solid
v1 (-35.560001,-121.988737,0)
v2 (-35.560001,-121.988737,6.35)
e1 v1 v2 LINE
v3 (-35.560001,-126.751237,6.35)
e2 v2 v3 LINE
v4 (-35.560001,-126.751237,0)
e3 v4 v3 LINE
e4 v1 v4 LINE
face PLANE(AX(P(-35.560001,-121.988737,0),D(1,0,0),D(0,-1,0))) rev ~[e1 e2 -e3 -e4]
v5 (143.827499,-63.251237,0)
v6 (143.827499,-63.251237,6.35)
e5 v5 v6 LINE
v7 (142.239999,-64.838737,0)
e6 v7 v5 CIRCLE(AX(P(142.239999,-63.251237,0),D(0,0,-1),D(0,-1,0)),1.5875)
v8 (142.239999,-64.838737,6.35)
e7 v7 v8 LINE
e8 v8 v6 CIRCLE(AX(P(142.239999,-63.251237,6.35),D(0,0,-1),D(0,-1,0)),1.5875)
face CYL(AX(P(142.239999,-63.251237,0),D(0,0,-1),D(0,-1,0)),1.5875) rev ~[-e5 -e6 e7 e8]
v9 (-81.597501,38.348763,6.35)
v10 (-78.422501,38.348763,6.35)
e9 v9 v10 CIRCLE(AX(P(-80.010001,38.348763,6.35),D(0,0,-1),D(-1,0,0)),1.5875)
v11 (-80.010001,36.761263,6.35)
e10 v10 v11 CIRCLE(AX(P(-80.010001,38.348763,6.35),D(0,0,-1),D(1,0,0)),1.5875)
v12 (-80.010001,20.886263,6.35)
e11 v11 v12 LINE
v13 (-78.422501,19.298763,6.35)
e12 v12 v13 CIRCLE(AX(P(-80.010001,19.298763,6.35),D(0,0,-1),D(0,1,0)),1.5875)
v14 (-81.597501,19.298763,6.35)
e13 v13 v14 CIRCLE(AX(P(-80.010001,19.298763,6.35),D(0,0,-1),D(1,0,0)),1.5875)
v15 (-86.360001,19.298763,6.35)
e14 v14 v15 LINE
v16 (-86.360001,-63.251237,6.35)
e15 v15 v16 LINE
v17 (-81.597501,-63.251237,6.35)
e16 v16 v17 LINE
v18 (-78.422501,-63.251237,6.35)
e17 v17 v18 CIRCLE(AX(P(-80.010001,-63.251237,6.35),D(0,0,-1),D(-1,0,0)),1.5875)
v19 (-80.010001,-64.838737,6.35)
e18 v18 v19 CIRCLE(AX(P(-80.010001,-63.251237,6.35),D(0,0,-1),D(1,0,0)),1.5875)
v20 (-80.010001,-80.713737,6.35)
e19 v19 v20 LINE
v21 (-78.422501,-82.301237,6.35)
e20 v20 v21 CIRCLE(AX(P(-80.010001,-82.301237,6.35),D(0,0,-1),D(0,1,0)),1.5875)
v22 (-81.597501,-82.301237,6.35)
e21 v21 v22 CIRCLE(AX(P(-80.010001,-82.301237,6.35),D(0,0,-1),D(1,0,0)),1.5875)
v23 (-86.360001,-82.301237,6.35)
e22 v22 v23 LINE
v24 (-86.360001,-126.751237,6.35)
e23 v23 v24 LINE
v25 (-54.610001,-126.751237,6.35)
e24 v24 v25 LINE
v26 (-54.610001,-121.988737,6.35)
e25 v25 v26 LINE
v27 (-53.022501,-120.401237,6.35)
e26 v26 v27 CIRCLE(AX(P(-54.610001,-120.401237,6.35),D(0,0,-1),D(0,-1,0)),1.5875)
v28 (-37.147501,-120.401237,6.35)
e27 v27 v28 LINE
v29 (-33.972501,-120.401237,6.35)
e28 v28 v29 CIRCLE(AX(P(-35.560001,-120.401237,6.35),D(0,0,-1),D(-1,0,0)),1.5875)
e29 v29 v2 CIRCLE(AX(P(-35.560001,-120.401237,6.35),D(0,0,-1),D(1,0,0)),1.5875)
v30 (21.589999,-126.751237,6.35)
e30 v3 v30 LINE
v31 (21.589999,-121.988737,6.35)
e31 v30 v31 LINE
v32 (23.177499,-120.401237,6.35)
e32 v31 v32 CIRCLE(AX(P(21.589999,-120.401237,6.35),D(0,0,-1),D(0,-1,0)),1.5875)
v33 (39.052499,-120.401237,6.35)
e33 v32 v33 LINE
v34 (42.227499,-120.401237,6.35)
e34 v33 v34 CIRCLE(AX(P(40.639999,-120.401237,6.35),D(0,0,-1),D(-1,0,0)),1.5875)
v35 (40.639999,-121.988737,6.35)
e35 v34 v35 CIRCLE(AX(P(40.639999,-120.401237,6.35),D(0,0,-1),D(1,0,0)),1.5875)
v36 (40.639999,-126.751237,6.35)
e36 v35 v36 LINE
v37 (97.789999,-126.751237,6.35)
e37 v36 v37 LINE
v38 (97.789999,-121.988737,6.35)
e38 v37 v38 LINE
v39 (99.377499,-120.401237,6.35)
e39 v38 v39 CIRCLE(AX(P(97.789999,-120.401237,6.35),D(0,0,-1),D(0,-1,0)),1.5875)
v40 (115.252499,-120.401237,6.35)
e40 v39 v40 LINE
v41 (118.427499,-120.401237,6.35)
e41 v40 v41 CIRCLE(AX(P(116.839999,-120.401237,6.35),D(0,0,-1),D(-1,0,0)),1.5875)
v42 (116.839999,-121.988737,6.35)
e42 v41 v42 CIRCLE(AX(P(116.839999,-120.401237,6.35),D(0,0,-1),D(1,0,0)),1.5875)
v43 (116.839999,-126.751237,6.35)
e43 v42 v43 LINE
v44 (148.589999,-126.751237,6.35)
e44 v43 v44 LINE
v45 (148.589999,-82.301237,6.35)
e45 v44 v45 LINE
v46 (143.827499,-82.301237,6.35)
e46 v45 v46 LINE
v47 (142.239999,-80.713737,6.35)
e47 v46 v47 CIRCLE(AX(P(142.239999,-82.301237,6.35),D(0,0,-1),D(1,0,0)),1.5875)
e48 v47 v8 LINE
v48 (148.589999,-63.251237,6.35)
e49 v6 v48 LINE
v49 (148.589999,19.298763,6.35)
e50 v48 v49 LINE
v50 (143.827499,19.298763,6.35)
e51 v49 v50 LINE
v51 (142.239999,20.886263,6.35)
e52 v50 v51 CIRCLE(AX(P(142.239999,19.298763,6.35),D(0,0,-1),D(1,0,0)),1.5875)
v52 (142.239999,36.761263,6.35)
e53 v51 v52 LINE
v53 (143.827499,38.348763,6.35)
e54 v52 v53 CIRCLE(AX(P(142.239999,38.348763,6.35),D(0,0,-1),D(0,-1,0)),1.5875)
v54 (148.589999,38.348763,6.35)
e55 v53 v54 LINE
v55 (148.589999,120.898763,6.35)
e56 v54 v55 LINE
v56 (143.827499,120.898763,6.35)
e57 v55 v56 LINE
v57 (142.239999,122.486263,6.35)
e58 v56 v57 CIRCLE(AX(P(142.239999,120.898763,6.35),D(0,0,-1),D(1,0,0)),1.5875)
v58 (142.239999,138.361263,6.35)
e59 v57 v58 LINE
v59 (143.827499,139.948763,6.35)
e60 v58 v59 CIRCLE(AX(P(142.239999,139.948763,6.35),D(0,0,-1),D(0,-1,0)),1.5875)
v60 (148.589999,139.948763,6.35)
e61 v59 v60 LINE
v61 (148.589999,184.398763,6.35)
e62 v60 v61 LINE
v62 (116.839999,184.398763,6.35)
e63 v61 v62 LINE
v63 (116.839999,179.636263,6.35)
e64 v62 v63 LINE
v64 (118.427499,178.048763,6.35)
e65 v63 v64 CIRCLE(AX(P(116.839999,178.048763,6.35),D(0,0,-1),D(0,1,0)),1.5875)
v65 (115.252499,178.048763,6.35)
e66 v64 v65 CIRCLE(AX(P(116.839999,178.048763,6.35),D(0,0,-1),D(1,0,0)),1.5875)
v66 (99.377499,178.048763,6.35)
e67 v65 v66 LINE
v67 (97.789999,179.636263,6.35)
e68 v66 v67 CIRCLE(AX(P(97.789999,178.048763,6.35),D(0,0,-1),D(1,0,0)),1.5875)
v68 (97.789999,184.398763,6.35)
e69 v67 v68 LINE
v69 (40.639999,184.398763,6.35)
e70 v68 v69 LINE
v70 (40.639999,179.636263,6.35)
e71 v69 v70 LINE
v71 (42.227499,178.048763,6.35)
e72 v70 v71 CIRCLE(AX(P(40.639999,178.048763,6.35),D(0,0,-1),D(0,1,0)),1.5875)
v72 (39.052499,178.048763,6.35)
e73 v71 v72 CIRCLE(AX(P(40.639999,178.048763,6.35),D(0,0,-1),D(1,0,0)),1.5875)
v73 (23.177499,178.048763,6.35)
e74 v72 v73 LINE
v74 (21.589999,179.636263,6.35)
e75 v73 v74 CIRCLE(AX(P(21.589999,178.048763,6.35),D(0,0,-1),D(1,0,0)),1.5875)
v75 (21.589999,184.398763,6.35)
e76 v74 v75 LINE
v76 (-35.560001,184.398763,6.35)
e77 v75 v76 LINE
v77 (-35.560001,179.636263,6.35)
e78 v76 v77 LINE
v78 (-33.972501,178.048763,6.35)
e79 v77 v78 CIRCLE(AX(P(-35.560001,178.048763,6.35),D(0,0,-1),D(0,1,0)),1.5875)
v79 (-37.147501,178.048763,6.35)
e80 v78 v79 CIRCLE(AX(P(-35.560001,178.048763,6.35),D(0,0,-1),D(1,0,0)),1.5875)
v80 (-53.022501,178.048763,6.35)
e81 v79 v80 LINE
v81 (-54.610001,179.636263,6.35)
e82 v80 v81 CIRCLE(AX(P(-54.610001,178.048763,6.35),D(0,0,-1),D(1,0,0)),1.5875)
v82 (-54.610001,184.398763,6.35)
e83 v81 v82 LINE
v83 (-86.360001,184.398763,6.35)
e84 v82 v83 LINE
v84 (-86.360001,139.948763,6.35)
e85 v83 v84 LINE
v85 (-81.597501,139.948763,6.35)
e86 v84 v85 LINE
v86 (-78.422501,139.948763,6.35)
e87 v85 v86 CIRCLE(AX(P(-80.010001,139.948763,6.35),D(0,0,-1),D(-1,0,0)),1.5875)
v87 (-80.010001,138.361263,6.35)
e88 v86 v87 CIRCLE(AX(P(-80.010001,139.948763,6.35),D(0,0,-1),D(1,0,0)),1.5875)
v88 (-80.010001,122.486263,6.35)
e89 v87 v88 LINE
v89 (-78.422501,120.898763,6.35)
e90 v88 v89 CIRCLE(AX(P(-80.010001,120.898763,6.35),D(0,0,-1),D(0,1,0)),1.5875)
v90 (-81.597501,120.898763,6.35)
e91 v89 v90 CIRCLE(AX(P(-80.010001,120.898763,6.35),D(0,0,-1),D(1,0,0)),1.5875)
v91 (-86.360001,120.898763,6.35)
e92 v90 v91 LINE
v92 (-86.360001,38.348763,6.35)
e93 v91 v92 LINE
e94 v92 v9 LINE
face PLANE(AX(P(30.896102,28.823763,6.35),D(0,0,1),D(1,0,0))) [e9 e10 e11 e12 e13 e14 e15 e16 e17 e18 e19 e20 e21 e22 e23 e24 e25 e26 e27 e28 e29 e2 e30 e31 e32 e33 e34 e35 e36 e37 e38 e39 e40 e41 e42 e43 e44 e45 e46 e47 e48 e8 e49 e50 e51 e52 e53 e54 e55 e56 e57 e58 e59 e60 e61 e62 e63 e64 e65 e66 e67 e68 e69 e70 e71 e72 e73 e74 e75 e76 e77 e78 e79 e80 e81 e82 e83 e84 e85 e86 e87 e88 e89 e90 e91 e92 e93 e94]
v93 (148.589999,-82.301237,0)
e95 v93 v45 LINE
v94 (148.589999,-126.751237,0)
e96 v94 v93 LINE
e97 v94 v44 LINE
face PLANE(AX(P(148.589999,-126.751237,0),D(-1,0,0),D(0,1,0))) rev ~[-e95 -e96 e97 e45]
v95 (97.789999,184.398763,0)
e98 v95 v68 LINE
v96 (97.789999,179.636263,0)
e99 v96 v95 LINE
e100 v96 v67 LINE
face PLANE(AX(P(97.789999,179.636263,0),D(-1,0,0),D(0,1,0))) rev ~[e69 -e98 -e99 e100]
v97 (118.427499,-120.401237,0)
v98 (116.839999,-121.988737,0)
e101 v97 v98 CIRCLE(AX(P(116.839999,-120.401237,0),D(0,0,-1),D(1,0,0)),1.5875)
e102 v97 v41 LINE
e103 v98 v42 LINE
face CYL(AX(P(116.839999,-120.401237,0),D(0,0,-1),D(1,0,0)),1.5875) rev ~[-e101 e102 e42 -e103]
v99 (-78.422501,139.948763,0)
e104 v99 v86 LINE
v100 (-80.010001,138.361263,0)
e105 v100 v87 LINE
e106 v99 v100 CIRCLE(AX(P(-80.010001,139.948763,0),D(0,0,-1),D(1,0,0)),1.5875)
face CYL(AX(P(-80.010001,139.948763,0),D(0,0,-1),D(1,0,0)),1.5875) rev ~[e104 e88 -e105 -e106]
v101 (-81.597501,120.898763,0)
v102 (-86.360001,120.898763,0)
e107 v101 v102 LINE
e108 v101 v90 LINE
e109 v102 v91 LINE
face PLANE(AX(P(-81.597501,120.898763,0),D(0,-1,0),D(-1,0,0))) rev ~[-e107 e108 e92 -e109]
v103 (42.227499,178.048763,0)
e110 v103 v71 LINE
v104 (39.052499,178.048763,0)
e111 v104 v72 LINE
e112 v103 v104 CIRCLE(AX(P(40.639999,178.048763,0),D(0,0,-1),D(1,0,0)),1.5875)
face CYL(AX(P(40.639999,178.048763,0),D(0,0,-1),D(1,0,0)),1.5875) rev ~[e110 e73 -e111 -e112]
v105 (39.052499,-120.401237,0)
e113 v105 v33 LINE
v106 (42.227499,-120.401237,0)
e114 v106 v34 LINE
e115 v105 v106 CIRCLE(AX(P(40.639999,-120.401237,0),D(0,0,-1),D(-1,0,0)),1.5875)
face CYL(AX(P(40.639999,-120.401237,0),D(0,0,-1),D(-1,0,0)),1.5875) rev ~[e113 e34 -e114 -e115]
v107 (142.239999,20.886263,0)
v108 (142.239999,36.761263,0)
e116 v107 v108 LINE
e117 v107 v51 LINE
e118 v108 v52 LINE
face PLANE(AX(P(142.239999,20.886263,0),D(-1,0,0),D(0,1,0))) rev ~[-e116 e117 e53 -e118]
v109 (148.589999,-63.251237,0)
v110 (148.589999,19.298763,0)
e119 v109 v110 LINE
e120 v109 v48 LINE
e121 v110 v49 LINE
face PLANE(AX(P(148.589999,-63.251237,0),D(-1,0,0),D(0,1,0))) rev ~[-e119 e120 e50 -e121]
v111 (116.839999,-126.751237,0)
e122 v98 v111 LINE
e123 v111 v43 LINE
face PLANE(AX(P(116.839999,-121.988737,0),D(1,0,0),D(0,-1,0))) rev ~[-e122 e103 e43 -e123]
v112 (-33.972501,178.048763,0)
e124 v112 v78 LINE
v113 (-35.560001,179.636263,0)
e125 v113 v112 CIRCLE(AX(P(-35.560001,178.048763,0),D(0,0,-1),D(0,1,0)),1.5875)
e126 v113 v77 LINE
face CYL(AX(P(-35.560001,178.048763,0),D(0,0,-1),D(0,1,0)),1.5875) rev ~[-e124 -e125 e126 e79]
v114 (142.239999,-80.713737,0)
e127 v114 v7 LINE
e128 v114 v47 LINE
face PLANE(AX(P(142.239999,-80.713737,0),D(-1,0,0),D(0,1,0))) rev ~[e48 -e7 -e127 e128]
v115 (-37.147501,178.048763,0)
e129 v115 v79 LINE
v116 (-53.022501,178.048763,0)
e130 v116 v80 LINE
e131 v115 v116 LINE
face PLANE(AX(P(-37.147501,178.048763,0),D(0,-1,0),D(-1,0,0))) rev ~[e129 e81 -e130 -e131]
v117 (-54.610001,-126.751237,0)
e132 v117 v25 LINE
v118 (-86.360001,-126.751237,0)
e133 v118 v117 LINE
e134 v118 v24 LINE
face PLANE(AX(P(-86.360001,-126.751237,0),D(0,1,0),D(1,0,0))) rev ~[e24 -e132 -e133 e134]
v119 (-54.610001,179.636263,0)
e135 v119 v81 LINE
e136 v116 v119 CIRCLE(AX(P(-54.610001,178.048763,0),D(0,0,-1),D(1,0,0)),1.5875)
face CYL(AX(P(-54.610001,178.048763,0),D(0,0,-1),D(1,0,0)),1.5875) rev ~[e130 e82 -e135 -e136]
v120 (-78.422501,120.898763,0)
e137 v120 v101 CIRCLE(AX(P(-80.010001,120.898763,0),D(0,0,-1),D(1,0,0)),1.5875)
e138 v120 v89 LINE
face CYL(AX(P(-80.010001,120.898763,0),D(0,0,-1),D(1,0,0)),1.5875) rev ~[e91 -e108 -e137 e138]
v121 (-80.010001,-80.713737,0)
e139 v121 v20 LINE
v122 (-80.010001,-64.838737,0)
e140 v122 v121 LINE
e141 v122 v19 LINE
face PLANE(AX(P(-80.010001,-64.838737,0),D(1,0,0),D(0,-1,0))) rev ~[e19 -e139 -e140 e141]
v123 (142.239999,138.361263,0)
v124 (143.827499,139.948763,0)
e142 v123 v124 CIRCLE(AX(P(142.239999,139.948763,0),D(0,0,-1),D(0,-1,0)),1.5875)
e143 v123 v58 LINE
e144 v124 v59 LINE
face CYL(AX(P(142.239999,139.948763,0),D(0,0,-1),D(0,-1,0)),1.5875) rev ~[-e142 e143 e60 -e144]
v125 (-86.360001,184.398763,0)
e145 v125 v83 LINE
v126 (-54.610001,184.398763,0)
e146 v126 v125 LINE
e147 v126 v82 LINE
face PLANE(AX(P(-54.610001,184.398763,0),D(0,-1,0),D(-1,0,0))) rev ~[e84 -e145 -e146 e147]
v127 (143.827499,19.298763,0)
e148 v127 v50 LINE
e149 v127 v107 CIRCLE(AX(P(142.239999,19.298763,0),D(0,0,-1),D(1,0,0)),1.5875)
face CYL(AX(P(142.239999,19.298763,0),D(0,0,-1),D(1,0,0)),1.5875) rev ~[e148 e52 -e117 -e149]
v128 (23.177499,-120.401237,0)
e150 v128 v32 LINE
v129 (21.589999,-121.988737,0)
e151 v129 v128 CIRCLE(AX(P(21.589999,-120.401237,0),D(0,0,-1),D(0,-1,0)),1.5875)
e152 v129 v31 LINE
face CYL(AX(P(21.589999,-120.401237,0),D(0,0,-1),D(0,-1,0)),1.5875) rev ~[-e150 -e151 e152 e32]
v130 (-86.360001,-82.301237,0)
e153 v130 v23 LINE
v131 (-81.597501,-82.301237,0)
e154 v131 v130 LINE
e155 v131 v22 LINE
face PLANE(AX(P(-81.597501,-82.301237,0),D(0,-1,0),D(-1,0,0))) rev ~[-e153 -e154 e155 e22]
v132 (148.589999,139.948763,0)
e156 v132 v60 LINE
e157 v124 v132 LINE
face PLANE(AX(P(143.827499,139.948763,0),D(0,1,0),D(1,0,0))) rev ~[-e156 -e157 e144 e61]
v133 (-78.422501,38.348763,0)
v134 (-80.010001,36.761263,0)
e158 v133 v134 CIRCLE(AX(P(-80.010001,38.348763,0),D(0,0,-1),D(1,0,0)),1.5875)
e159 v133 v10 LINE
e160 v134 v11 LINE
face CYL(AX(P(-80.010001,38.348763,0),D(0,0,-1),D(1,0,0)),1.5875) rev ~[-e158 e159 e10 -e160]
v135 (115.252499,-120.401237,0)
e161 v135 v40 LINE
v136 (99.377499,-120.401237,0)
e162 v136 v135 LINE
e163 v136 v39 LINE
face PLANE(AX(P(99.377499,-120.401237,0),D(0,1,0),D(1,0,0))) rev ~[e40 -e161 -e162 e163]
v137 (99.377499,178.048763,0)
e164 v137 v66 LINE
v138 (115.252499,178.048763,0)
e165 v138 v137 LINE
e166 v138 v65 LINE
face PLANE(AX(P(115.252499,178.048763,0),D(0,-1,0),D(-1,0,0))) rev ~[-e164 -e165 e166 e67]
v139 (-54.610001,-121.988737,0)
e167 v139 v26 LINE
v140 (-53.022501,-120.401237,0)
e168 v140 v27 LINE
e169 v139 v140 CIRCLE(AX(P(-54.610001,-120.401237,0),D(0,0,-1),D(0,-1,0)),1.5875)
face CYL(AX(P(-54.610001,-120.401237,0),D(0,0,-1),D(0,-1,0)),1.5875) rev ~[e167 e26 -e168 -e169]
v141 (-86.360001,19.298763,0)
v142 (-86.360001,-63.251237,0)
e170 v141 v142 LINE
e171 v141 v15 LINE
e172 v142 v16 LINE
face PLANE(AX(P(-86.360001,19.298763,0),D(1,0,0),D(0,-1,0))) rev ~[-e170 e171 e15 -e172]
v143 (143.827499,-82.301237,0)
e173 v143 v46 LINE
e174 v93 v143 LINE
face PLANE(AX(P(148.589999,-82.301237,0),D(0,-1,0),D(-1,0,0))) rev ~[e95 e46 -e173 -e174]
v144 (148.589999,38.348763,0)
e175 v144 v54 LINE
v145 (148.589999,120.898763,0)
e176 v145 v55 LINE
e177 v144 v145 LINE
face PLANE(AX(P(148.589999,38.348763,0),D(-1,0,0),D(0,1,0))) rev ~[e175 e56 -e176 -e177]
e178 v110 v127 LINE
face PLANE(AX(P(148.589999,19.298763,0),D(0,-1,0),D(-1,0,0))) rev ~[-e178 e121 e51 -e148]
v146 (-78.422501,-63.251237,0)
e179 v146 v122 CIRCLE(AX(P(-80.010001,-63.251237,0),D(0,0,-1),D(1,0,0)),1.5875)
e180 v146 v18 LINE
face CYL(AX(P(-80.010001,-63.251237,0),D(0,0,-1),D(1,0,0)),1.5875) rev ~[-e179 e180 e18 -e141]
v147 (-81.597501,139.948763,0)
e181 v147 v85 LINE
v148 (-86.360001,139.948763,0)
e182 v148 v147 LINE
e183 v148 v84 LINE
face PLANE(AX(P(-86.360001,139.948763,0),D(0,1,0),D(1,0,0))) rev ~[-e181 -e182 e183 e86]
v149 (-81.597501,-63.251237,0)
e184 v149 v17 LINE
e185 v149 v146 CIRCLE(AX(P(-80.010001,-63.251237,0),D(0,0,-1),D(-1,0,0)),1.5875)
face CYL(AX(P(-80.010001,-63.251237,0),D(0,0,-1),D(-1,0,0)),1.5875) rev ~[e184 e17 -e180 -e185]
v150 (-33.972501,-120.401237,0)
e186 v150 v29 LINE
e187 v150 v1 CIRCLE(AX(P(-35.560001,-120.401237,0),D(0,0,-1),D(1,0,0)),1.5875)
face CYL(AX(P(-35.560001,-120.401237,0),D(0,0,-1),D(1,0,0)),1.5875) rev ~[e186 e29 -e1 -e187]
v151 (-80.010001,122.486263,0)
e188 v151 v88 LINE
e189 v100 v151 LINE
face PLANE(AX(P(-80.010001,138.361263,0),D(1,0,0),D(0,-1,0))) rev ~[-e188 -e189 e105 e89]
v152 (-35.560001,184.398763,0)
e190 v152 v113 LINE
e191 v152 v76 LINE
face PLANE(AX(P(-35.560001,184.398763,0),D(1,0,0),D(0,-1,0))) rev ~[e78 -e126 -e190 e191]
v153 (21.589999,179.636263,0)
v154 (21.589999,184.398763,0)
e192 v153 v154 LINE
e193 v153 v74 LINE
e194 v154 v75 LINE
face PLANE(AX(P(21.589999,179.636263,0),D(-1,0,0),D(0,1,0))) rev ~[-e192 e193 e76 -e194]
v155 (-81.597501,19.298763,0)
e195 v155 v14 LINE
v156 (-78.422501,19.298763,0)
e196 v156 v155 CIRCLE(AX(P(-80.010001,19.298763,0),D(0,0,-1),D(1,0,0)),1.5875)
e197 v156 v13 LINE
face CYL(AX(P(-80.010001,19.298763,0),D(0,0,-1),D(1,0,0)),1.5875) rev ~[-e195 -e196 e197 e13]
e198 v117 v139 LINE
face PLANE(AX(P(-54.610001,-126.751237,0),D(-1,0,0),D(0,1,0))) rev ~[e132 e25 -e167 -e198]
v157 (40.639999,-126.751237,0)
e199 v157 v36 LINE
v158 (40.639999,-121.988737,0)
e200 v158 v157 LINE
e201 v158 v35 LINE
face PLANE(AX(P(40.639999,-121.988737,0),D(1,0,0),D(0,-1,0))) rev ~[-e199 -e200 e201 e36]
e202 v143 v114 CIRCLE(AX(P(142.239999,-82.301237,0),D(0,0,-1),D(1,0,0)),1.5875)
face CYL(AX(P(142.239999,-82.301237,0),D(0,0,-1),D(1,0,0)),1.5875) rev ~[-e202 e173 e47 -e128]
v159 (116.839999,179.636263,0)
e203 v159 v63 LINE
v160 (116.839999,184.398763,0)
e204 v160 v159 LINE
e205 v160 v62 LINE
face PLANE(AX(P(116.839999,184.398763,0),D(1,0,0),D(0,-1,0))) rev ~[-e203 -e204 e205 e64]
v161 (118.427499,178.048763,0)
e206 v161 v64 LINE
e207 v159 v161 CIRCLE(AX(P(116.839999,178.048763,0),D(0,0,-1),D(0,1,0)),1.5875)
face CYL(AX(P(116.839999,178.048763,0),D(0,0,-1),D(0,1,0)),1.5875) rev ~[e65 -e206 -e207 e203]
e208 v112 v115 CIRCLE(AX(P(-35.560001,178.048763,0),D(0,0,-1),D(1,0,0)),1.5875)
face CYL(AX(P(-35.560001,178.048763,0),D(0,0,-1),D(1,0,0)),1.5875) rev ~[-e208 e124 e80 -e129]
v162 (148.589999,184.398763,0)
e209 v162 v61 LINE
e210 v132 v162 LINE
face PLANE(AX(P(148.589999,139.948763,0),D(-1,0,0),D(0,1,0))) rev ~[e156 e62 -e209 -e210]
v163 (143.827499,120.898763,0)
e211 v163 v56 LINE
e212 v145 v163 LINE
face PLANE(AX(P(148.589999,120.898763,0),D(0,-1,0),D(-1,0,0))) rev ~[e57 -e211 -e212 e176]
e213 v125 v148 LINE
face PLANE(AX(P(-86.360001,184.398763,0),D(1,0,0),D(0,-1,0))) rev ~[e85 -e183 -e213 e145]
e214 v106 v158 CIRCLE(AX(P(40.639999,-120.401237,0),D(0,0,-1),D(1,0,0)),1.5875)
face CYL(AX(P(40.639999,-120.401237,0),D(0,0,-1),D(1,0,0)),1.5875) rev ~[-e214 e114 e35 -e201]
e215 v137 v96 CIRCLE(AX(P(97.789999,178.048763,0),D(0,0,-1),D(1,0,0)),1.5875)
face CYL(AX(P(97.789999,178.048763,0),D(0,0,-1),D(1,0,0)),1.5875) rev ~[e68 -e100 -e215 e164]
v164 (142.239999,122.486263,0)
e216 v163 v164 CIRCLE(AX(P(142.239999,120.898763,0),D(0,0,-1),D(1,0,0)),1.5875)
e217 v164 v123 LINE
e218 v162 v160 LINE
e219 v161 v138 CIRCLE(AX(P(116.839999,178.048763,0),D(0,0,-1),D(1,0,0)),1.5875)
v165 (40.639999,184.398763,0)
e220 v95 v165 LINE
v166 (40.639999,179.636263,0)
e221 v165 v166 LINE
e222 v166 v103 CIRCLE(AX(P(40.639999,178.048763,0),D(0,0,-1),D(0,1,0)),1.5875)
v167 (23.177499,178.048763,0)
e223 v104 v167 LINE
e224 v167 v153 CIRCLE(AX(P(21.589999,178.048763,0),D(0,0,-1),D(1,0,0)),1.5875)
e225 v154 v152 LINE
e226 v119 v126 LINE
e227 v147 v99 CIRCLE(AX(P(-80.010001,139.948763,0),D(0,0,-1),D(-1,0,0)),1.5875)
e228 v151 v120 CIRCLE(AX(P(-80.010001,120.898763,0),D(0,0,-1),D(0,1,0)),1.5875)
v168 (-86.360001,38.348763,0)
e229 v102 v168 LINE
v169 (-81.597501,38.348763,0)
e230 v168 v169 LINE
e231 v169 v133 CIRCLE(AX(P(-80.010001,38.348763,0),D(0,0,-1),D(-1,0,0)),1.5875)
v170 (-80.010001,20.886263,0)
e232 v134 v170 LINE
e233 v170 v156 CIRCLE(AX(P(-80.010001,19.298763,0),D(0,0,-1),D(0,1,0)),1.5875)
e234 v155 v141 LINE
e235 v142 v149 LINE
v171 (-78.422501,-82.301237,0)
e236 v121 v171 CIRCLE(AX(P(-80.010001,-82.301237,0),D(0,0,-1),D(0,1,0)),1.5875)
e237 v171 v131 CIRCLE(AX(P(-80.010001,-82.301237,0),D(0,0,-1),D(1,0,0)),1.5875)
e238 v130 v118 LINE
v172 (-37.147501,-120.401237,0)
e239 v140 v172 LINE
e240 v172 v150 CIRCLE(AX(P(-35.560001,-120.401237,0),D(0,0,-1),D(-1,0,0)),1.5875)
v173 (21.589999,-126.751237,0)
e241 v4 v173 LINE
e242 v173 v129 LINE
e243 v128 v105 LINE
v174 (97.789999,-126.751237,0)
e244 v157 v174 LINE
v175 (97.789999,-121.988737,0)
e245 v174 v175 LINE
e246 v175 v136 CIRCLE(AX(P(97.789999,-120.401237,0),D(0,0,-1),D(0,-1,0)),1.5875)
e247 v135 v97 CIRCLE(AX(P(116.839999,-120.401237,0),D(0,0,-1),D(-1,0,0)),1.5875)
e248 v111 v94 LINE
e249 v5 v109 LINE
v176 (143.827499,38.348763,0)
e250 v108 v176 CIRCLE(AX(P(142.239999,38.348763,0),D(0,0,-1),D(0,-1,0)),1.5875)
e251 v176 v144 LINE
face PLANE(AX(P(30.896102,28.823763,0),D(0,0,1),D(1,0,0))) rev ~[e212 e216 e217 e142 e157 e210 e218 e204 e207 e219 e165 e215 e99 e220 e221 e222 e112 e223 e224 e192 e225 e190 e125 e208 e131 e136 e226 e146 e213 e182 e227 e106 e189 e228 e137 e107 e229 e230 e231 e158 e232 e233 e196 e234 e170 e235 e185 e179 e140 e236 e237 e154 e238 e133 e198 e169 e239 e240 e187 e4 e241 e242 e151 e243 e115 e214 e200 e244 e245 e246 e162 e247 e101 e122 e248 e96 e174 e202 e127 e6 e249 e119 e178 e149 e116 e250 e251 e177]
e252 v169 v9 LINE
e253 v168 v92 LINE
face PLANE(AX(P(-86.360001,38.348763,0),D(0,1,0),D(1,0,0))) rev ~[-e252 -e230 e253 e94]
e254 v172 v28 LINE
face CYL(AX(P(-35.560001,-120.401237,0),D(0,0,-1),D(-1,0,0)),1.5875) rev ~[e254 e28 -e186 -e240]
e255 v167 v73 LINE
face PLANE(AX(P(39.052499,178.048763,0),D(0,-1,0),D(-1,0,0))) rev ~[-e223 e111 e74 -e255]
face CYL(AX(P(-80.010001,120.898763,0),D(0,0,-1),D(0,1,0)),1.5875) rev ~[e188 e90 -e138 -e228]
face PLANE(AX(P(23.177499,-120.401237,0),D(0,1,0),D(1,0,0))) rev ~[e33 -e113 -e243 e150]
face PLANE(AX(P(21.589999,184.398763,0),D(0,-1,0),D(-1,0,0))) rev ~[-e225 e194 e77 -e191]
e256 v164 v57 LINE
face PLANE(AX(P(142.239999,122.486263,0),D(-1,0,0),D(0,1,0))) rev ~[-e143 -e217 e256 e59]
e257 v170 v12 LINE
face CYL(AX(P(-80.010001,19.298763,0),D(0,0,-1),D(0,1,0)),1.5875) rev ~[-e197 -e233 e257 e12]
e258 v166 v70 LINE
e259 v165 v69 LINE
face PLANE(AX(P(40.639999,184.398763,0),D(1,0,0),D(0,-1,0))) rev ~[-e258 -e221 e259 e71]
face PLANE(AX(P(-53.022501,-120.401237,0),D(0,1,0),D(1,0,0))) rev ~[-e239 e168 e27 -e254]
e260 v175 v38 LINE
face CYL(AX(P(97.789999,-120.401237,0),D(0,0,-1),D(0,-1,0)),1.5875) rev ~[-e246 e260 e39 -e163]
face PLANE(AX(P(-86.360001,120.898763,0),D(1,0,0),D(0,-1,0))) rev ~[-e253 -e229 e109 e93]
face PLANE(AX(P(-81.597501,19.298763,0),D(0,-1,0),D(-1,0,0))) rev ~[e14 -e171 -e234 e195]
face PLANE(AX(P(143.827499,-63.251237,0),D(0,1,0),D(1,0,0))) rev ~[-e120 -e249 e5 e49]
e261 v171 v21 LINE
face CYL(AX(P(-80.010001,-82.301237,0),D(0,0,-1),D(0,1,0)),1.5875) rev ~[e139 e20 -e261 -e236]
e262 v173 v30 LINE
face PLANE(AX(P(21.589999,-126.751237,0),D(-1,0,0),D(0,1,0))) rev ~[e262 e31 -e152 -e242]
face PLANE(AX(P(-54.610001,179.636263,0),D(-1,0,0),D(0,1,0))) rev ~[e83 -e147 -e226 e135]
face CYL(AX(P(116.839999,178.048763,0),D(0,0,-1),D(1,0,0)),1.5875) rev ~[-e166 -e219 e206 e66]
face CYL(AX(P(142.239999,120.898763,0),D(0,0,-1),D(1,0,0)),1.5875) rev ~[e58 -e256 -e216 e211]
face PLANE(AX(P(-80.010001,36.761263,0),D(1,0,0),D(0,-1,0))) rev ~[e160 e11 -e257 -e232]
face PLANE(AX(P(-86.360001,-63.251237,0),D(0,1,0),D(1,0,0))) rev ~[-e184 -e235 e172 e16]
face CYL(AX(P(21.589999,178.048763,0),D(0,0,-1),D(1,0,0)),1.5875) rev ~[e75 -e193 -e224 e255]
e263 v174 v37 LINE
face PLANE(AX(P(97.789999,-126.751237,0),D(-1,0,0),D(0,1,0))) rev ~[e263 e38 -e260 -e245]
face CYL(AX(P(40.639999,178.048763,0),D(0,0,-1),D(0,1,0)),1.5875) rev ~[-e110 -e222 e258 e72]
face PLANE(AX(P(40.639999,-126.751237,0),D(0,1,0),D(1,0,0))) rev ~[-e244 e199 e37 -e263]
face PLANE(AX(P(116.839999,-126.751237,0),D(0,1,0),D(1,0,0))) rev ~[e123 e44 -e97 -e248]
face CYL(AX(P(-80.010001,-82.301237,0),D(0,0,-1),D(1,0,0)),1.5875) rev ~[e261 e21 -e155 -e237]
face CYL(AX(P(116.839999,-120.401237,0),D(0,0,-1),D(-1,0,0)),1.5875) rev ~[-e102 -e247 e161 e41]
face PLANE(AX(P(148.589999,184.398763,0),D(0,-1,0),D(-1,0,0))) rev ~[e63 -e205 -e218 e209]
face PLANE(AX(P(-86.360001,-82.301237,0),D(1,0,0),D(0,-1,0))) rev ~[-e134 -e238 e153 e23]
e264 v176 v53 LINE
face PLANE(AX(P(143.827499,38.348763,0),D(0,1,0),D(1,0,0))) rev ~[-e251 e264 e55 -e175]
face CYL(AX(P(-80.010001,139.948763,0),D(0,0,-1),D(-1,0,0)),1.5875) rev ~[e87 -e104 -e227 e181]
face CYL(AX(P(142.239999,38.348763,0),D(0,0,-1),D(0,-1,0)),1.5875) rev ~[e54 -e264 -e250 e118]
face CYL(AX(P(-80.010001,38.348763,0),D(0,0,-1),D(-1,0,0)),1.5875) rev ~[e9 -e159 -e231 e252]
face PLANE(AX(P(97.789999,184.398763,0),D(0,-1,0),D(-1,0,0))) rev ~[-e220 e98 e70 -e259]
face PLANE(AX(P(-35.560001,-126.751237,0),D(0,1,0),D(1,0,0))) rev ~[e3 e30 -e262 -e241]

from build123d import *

# Parameters (mm, degrees)
F1_DEPTH = 6.35


with BuildPart() as f1:
    # F0 (on Top) → F1 (new body)
    with BuildSketch(Plane.XY):
        with BuildLine():
            Line((-54.6100006601, 184.3987628429), (-86.3600006601, 184.3987628429))
            Line((-86.3600006601, 184.3987628429), (-86.3600006601, 139.9487628429))
            Line((-86.3600006601, 139.9487628429), (-81.5975006601, 139.9487628429))
            ThreePointArc((-81.5975006601, 139.9487628429), (-80.0100006601, 141.5362628429), (-78.4225006601, 139.9487628429))
            ThreePointArc((-78.4225006601, 139.9487628429), (-78.887468645, 138.8262308277), (-80.0100006601, 138.3612628429))
            Line((-80.0100006601, 138.3612628429), (-80.0100006601, 122.4862628429))
            ThreePointArc((-80.0100006601, 122.4862628429), (-78.887468645, 122.021294858), (-78.4225006601, 120.8987628429))
            ThreePointArc((-78.4225006601, 120.8987628429), (-80.0100006601, 119.3112628429), (-81.5975006601, 120.8987628429))
            Line((-81.5975006601, 120.8987628429), (-86.3600006601, 120.8987628429))
            Line((-86.3600006601, 120.8987628429), (-86.3600006601, 38.3487628429))
            Line((-86.3600006601, 38.3487628429), (-81.5975006601, 38.3487628429))
            ThreePointArc((-81.5975006601, 38.3487628429), (-80.0100006601, 39.9362628429), (-78.4225006601, 38.3487628429))
            ThreePointArc((-78.4225006601, 38.3487628429), (-78.887468645, 37.2262308277), (-80.0100006601, 36.7612628429))
            Line((-80.0100006601, 36.7612628429), (-80.0100006601, 20.8862628429))
            ThreePointArc((-80.0100006601, 20.8862628429), (-78.887468645, 20.421294858), (-78.4225006601, 19.2987628429))
            ThreePointArc((-78.4225006601, 19.2987628429), (-80.0100006601, 17.7112628429), (-81.5975006601, 19.2987628429))
            Line((-81.5975006601, 19.2987628429), (-86.3600006601, 19.2987628429))
            Line((-86.3600006601, 19.2987628429), (-86.3600006601, -63.2512371571))
            Line((-86.3600006601, -63.2512371571), (-81.5975006601, -63.2512371571))
            ThreePointArc((-81.5975006601, -63.2512371571), (-80.0100006601, -61.6637371571), (-78.4225006601, -63.2512371571))
            ThreePointArc((-78.4225006601, -63.2512371571), (-78.887468645, -64.3737691723), (-80.0100006601, -64.8387371571))
            Line((-80.0100006601, -64.8387371571), (-80.0100006601, -80.7137371571))
            ThreePointArc((-80.0100006601, -80.7137371571), (-78.887468645, -81.178705142), (-78.4225006601, -82.3012371571))
            ThreePointArc((-78.4225006601, -82.3012371571), (-80.0100006601, -83.8887371571), (-81.5975006601, -82.3012371571))
            Line((-81.5975006601, -82.3012371571), (-86.3600006601, -82.3012371571))
            Line((-86.3600006601, -82.3012371571), (-86.3600006601, -126.7512371571))
            Line((-86.3600006601, -126.7512371571), (-54.6100006601, -126.7512371571))
            Line((-54.6100006601, -126.7512371571), (-54.6100006601, -121.9887371571))
            ThreePointArc((-54.6100006601, -121.9887371571), (-55.7325326753, -119.278705142), (-53.0225006601, -120.4012371571))
            Line((-53.0225006601, -120.4012371571), (-37.1475006601, -120.4012371571))
            ThreePointArc((-37.1475006601, -120.4012371571), (-35.5600006601, -118.8137371571), (-33.9725006601, -120.4012371571))
            ThreePointArc((-33.9725006601, -120.4012371571), (-34.437468645, -121.5237691723), (-35.5600006601, -121.9887371571))
            Line((-35.5600006601, -121.9887371571), (-35.5600006601, -126.7512371571))
            Line((-35.5600006601, -126.7512371571), (21.5899993399, -126.7512371571))
            Line((21.5899993399, -126.7512371571), (21.5899993399, -121.9887371571))
            ThreePointArc((21.5899993399, -121.9887371571), (20.4674673247, -119.278705142), (23.1774993399, -120.4012371571))
            Line((23.1774993399, -120.4012371571), (39.0524993399, -120.4012371571))
            ThreePointArc((39.0524993399, -120.4012371571), (40.6399993399, -118.8137371571), (42.2274993399, -120.4012371571))
            ThreePointArc((42.2274993399, -120.4012371571), (41.762531355, -121.5237691723), (40.6399993399, -121.9887371571))
            Line((40.6399993399, -121.9887371571), (40.6399993399, -126.7512371571))
            Line((40.6399993399, -126.7512371571), (97.7899993399, -126.7512371571))
            Line((97.7899993399, -126.7512371571), (97.7899993399, -121.9887371571))
            ThreePointArc((97.7899993399, -121.9887371571), (96.6674673247, -119.278705142), (99.3774993399, -120.4012371571))
            Line((99.3774993399, -120.4012371571), (115.2524993399, -120.4012371571))
            ThreePointArc((115.2524993399, -120.4012371571), (116.8399993399, -118.8137371571), (118.4274993399, -120.4012371571))
            ThreePointArc((118.4274993399, -120.4012371571), (117.962531355, -121.5237691723), (116.8399993399, -121.9887371571))
            Line((116.8399993399, -121.9887371571), (116.8399993399, -126.7512371571))
            Line((116.8399993399, -126.7512371571), (148.5899993399, -126.7512371571))
            Line((148.5899993399, -126.7512371571), (148.5899993399, -82.3012371571))
            Line((148.5899993399, -82.3012371571), (143.8274993399, -82.3012371571))
            ThreePointArc((143.8274993399, -82.3012371571), (141.1174673247, -83.4237691723), (142.2399993399, -80.7137371571))
            Line((142.2399993399, -80.7137371571), (142.2399993399, -64.8387371571))
            ThreePointArc((142.2399993399, -64.8387371571), (141.1174673247, -62.128705142), (143.8274993399, -63.2512371571))
            Line((143.8274993399, -63.2512371571), (148.5899993399, -63.2512371571))
            Line((148.5899993399, -63.2512371571), (148.5899993399, 19.2987628429))
            Line((148.5899993399, 19.2987628429), (143.8274993399, 19.2987628429))
            ThreePointArc((143.8274993399, 19.2987628429), (141.1174673247, 18.1762308277), (142.2399993399, 20.8862628429))
            Line((142.2399993399, 20.8862628429), (142.2399993399, 36.7612628429))
            ThreePointArc((142.2399993399, 36.7612628429), (141.1174673247, 39.471294858), (143.8274993399, 38.3487628429))
            Line((143.8274993399, 38.3487628429), (148.5899993399, 38.3487628429))
            Line((148.5899993399, 38.3487628429), (148.5899993399, 120.8987628429))
            Line((148.5899993399, 120.8987628429), (143.8274993399, 120.8987628429))
            ThreePointArc((143.8274993399, 120.8987628429), (141.1174673247, 119.7762308277), (142.2399993399, 122.4862628429))
            Line((142.2399993399, 122.4862628429), (142.2399993399, 138.3612628429))
            ThreePointArc((142.2399993399, 138.3612628429), (141.1174673247, 141.071294858), (143.8274993399, 139.9487628429))
            Line((143.8274993399, 139.9487628429), (148.5899993399, 139.9487628429))
            Line((148.5899993399, 139.9487628429), (148.5899993399, 184.3987628429))
            Line((148.5899993399, 184.3987628429), (116.8399993399, 184.3987628429))
            Line((116.8399993399, 184.3987628429), (116.8399993399, 179.6362628429))
            ThreePointArc((116.8399993399, 179.6362628429), (117.962531355, 179.171294858), (118.4274993399, 178.0487628429))
            ThreePointArc((118.4274993399, 178.0487628429), (116.8399993399, 176.4612628429), (115.2524993399, 178.0487628429))
            Line((115.2524993399, 178.0487628429), (99.3774993399, 178.0487628429))
            ThreePointArc((99.3774993399, 178.0487628429), (96.6674673247, 176.9262308277), (97.7899993399, 179.6362628429))
            Line((97.7899993399, 179.6362628429), (97.7899993399, 184.3987628429))
            Line((97.7899993399, 184.3987628429), (40.6399993399, 184.3987628429))
            Line((40.6399993399, 184.3987628429), (40.6399993399, 179.6362628429))
            ThreePointArc((40.6399993399, 179.6362628429), (41.762531355, 179.171294858), (42.2274993399, 178.0487628429))
            ThreePointArc((42.2274993399, 178.0487628429), (40.6399993399, 176.4612628429), (39.0524993399, 178.0487628429))
            Line((39.0524993399, 178.0487628429), (23.1774993399, 178.0487628429))
            ThreePointArc((23.1774993399, 178.0487628429), (20.4674673247, 176.9262308277), (21.5899993399, 179.6362628429))
            Line((21.5899993399, 179.6362628429), (21.5899993399, 184.3987628429))
            Line((21.5899993399, 184.3987628429), (-35.5600006601, 184.3987628429))
            Line((-35.5600006601, 184.3987628429), (-35.5600006601, 179.6362628429))
            ThreePointArc((-35.5600006601, 179.6362628429), (-34.437468645, 179.171294858), (-33.9725006601, 178.0487628429))
            ThreePointArc((-33.9725006601, 178.0487628429), (-35.5600006601, 176.4612628429), (-37.1475006601, 178.0487628429))
            Line((-37.1475006601, 178.0487628429), (-53.0225006601, 178.0487628429))
            ThreePointArc((-53.0225006601, 178.0487628429), (-55.7325326753, 176.9262308277), (-54.6100006601, 179.6362628429))
            Line((-54.6100006601, 179.6362628429), (-54.6100006601, 184.3987628429))
        make_face()
    extrude(amount=F1_DEPTH)


solid = f1.part
